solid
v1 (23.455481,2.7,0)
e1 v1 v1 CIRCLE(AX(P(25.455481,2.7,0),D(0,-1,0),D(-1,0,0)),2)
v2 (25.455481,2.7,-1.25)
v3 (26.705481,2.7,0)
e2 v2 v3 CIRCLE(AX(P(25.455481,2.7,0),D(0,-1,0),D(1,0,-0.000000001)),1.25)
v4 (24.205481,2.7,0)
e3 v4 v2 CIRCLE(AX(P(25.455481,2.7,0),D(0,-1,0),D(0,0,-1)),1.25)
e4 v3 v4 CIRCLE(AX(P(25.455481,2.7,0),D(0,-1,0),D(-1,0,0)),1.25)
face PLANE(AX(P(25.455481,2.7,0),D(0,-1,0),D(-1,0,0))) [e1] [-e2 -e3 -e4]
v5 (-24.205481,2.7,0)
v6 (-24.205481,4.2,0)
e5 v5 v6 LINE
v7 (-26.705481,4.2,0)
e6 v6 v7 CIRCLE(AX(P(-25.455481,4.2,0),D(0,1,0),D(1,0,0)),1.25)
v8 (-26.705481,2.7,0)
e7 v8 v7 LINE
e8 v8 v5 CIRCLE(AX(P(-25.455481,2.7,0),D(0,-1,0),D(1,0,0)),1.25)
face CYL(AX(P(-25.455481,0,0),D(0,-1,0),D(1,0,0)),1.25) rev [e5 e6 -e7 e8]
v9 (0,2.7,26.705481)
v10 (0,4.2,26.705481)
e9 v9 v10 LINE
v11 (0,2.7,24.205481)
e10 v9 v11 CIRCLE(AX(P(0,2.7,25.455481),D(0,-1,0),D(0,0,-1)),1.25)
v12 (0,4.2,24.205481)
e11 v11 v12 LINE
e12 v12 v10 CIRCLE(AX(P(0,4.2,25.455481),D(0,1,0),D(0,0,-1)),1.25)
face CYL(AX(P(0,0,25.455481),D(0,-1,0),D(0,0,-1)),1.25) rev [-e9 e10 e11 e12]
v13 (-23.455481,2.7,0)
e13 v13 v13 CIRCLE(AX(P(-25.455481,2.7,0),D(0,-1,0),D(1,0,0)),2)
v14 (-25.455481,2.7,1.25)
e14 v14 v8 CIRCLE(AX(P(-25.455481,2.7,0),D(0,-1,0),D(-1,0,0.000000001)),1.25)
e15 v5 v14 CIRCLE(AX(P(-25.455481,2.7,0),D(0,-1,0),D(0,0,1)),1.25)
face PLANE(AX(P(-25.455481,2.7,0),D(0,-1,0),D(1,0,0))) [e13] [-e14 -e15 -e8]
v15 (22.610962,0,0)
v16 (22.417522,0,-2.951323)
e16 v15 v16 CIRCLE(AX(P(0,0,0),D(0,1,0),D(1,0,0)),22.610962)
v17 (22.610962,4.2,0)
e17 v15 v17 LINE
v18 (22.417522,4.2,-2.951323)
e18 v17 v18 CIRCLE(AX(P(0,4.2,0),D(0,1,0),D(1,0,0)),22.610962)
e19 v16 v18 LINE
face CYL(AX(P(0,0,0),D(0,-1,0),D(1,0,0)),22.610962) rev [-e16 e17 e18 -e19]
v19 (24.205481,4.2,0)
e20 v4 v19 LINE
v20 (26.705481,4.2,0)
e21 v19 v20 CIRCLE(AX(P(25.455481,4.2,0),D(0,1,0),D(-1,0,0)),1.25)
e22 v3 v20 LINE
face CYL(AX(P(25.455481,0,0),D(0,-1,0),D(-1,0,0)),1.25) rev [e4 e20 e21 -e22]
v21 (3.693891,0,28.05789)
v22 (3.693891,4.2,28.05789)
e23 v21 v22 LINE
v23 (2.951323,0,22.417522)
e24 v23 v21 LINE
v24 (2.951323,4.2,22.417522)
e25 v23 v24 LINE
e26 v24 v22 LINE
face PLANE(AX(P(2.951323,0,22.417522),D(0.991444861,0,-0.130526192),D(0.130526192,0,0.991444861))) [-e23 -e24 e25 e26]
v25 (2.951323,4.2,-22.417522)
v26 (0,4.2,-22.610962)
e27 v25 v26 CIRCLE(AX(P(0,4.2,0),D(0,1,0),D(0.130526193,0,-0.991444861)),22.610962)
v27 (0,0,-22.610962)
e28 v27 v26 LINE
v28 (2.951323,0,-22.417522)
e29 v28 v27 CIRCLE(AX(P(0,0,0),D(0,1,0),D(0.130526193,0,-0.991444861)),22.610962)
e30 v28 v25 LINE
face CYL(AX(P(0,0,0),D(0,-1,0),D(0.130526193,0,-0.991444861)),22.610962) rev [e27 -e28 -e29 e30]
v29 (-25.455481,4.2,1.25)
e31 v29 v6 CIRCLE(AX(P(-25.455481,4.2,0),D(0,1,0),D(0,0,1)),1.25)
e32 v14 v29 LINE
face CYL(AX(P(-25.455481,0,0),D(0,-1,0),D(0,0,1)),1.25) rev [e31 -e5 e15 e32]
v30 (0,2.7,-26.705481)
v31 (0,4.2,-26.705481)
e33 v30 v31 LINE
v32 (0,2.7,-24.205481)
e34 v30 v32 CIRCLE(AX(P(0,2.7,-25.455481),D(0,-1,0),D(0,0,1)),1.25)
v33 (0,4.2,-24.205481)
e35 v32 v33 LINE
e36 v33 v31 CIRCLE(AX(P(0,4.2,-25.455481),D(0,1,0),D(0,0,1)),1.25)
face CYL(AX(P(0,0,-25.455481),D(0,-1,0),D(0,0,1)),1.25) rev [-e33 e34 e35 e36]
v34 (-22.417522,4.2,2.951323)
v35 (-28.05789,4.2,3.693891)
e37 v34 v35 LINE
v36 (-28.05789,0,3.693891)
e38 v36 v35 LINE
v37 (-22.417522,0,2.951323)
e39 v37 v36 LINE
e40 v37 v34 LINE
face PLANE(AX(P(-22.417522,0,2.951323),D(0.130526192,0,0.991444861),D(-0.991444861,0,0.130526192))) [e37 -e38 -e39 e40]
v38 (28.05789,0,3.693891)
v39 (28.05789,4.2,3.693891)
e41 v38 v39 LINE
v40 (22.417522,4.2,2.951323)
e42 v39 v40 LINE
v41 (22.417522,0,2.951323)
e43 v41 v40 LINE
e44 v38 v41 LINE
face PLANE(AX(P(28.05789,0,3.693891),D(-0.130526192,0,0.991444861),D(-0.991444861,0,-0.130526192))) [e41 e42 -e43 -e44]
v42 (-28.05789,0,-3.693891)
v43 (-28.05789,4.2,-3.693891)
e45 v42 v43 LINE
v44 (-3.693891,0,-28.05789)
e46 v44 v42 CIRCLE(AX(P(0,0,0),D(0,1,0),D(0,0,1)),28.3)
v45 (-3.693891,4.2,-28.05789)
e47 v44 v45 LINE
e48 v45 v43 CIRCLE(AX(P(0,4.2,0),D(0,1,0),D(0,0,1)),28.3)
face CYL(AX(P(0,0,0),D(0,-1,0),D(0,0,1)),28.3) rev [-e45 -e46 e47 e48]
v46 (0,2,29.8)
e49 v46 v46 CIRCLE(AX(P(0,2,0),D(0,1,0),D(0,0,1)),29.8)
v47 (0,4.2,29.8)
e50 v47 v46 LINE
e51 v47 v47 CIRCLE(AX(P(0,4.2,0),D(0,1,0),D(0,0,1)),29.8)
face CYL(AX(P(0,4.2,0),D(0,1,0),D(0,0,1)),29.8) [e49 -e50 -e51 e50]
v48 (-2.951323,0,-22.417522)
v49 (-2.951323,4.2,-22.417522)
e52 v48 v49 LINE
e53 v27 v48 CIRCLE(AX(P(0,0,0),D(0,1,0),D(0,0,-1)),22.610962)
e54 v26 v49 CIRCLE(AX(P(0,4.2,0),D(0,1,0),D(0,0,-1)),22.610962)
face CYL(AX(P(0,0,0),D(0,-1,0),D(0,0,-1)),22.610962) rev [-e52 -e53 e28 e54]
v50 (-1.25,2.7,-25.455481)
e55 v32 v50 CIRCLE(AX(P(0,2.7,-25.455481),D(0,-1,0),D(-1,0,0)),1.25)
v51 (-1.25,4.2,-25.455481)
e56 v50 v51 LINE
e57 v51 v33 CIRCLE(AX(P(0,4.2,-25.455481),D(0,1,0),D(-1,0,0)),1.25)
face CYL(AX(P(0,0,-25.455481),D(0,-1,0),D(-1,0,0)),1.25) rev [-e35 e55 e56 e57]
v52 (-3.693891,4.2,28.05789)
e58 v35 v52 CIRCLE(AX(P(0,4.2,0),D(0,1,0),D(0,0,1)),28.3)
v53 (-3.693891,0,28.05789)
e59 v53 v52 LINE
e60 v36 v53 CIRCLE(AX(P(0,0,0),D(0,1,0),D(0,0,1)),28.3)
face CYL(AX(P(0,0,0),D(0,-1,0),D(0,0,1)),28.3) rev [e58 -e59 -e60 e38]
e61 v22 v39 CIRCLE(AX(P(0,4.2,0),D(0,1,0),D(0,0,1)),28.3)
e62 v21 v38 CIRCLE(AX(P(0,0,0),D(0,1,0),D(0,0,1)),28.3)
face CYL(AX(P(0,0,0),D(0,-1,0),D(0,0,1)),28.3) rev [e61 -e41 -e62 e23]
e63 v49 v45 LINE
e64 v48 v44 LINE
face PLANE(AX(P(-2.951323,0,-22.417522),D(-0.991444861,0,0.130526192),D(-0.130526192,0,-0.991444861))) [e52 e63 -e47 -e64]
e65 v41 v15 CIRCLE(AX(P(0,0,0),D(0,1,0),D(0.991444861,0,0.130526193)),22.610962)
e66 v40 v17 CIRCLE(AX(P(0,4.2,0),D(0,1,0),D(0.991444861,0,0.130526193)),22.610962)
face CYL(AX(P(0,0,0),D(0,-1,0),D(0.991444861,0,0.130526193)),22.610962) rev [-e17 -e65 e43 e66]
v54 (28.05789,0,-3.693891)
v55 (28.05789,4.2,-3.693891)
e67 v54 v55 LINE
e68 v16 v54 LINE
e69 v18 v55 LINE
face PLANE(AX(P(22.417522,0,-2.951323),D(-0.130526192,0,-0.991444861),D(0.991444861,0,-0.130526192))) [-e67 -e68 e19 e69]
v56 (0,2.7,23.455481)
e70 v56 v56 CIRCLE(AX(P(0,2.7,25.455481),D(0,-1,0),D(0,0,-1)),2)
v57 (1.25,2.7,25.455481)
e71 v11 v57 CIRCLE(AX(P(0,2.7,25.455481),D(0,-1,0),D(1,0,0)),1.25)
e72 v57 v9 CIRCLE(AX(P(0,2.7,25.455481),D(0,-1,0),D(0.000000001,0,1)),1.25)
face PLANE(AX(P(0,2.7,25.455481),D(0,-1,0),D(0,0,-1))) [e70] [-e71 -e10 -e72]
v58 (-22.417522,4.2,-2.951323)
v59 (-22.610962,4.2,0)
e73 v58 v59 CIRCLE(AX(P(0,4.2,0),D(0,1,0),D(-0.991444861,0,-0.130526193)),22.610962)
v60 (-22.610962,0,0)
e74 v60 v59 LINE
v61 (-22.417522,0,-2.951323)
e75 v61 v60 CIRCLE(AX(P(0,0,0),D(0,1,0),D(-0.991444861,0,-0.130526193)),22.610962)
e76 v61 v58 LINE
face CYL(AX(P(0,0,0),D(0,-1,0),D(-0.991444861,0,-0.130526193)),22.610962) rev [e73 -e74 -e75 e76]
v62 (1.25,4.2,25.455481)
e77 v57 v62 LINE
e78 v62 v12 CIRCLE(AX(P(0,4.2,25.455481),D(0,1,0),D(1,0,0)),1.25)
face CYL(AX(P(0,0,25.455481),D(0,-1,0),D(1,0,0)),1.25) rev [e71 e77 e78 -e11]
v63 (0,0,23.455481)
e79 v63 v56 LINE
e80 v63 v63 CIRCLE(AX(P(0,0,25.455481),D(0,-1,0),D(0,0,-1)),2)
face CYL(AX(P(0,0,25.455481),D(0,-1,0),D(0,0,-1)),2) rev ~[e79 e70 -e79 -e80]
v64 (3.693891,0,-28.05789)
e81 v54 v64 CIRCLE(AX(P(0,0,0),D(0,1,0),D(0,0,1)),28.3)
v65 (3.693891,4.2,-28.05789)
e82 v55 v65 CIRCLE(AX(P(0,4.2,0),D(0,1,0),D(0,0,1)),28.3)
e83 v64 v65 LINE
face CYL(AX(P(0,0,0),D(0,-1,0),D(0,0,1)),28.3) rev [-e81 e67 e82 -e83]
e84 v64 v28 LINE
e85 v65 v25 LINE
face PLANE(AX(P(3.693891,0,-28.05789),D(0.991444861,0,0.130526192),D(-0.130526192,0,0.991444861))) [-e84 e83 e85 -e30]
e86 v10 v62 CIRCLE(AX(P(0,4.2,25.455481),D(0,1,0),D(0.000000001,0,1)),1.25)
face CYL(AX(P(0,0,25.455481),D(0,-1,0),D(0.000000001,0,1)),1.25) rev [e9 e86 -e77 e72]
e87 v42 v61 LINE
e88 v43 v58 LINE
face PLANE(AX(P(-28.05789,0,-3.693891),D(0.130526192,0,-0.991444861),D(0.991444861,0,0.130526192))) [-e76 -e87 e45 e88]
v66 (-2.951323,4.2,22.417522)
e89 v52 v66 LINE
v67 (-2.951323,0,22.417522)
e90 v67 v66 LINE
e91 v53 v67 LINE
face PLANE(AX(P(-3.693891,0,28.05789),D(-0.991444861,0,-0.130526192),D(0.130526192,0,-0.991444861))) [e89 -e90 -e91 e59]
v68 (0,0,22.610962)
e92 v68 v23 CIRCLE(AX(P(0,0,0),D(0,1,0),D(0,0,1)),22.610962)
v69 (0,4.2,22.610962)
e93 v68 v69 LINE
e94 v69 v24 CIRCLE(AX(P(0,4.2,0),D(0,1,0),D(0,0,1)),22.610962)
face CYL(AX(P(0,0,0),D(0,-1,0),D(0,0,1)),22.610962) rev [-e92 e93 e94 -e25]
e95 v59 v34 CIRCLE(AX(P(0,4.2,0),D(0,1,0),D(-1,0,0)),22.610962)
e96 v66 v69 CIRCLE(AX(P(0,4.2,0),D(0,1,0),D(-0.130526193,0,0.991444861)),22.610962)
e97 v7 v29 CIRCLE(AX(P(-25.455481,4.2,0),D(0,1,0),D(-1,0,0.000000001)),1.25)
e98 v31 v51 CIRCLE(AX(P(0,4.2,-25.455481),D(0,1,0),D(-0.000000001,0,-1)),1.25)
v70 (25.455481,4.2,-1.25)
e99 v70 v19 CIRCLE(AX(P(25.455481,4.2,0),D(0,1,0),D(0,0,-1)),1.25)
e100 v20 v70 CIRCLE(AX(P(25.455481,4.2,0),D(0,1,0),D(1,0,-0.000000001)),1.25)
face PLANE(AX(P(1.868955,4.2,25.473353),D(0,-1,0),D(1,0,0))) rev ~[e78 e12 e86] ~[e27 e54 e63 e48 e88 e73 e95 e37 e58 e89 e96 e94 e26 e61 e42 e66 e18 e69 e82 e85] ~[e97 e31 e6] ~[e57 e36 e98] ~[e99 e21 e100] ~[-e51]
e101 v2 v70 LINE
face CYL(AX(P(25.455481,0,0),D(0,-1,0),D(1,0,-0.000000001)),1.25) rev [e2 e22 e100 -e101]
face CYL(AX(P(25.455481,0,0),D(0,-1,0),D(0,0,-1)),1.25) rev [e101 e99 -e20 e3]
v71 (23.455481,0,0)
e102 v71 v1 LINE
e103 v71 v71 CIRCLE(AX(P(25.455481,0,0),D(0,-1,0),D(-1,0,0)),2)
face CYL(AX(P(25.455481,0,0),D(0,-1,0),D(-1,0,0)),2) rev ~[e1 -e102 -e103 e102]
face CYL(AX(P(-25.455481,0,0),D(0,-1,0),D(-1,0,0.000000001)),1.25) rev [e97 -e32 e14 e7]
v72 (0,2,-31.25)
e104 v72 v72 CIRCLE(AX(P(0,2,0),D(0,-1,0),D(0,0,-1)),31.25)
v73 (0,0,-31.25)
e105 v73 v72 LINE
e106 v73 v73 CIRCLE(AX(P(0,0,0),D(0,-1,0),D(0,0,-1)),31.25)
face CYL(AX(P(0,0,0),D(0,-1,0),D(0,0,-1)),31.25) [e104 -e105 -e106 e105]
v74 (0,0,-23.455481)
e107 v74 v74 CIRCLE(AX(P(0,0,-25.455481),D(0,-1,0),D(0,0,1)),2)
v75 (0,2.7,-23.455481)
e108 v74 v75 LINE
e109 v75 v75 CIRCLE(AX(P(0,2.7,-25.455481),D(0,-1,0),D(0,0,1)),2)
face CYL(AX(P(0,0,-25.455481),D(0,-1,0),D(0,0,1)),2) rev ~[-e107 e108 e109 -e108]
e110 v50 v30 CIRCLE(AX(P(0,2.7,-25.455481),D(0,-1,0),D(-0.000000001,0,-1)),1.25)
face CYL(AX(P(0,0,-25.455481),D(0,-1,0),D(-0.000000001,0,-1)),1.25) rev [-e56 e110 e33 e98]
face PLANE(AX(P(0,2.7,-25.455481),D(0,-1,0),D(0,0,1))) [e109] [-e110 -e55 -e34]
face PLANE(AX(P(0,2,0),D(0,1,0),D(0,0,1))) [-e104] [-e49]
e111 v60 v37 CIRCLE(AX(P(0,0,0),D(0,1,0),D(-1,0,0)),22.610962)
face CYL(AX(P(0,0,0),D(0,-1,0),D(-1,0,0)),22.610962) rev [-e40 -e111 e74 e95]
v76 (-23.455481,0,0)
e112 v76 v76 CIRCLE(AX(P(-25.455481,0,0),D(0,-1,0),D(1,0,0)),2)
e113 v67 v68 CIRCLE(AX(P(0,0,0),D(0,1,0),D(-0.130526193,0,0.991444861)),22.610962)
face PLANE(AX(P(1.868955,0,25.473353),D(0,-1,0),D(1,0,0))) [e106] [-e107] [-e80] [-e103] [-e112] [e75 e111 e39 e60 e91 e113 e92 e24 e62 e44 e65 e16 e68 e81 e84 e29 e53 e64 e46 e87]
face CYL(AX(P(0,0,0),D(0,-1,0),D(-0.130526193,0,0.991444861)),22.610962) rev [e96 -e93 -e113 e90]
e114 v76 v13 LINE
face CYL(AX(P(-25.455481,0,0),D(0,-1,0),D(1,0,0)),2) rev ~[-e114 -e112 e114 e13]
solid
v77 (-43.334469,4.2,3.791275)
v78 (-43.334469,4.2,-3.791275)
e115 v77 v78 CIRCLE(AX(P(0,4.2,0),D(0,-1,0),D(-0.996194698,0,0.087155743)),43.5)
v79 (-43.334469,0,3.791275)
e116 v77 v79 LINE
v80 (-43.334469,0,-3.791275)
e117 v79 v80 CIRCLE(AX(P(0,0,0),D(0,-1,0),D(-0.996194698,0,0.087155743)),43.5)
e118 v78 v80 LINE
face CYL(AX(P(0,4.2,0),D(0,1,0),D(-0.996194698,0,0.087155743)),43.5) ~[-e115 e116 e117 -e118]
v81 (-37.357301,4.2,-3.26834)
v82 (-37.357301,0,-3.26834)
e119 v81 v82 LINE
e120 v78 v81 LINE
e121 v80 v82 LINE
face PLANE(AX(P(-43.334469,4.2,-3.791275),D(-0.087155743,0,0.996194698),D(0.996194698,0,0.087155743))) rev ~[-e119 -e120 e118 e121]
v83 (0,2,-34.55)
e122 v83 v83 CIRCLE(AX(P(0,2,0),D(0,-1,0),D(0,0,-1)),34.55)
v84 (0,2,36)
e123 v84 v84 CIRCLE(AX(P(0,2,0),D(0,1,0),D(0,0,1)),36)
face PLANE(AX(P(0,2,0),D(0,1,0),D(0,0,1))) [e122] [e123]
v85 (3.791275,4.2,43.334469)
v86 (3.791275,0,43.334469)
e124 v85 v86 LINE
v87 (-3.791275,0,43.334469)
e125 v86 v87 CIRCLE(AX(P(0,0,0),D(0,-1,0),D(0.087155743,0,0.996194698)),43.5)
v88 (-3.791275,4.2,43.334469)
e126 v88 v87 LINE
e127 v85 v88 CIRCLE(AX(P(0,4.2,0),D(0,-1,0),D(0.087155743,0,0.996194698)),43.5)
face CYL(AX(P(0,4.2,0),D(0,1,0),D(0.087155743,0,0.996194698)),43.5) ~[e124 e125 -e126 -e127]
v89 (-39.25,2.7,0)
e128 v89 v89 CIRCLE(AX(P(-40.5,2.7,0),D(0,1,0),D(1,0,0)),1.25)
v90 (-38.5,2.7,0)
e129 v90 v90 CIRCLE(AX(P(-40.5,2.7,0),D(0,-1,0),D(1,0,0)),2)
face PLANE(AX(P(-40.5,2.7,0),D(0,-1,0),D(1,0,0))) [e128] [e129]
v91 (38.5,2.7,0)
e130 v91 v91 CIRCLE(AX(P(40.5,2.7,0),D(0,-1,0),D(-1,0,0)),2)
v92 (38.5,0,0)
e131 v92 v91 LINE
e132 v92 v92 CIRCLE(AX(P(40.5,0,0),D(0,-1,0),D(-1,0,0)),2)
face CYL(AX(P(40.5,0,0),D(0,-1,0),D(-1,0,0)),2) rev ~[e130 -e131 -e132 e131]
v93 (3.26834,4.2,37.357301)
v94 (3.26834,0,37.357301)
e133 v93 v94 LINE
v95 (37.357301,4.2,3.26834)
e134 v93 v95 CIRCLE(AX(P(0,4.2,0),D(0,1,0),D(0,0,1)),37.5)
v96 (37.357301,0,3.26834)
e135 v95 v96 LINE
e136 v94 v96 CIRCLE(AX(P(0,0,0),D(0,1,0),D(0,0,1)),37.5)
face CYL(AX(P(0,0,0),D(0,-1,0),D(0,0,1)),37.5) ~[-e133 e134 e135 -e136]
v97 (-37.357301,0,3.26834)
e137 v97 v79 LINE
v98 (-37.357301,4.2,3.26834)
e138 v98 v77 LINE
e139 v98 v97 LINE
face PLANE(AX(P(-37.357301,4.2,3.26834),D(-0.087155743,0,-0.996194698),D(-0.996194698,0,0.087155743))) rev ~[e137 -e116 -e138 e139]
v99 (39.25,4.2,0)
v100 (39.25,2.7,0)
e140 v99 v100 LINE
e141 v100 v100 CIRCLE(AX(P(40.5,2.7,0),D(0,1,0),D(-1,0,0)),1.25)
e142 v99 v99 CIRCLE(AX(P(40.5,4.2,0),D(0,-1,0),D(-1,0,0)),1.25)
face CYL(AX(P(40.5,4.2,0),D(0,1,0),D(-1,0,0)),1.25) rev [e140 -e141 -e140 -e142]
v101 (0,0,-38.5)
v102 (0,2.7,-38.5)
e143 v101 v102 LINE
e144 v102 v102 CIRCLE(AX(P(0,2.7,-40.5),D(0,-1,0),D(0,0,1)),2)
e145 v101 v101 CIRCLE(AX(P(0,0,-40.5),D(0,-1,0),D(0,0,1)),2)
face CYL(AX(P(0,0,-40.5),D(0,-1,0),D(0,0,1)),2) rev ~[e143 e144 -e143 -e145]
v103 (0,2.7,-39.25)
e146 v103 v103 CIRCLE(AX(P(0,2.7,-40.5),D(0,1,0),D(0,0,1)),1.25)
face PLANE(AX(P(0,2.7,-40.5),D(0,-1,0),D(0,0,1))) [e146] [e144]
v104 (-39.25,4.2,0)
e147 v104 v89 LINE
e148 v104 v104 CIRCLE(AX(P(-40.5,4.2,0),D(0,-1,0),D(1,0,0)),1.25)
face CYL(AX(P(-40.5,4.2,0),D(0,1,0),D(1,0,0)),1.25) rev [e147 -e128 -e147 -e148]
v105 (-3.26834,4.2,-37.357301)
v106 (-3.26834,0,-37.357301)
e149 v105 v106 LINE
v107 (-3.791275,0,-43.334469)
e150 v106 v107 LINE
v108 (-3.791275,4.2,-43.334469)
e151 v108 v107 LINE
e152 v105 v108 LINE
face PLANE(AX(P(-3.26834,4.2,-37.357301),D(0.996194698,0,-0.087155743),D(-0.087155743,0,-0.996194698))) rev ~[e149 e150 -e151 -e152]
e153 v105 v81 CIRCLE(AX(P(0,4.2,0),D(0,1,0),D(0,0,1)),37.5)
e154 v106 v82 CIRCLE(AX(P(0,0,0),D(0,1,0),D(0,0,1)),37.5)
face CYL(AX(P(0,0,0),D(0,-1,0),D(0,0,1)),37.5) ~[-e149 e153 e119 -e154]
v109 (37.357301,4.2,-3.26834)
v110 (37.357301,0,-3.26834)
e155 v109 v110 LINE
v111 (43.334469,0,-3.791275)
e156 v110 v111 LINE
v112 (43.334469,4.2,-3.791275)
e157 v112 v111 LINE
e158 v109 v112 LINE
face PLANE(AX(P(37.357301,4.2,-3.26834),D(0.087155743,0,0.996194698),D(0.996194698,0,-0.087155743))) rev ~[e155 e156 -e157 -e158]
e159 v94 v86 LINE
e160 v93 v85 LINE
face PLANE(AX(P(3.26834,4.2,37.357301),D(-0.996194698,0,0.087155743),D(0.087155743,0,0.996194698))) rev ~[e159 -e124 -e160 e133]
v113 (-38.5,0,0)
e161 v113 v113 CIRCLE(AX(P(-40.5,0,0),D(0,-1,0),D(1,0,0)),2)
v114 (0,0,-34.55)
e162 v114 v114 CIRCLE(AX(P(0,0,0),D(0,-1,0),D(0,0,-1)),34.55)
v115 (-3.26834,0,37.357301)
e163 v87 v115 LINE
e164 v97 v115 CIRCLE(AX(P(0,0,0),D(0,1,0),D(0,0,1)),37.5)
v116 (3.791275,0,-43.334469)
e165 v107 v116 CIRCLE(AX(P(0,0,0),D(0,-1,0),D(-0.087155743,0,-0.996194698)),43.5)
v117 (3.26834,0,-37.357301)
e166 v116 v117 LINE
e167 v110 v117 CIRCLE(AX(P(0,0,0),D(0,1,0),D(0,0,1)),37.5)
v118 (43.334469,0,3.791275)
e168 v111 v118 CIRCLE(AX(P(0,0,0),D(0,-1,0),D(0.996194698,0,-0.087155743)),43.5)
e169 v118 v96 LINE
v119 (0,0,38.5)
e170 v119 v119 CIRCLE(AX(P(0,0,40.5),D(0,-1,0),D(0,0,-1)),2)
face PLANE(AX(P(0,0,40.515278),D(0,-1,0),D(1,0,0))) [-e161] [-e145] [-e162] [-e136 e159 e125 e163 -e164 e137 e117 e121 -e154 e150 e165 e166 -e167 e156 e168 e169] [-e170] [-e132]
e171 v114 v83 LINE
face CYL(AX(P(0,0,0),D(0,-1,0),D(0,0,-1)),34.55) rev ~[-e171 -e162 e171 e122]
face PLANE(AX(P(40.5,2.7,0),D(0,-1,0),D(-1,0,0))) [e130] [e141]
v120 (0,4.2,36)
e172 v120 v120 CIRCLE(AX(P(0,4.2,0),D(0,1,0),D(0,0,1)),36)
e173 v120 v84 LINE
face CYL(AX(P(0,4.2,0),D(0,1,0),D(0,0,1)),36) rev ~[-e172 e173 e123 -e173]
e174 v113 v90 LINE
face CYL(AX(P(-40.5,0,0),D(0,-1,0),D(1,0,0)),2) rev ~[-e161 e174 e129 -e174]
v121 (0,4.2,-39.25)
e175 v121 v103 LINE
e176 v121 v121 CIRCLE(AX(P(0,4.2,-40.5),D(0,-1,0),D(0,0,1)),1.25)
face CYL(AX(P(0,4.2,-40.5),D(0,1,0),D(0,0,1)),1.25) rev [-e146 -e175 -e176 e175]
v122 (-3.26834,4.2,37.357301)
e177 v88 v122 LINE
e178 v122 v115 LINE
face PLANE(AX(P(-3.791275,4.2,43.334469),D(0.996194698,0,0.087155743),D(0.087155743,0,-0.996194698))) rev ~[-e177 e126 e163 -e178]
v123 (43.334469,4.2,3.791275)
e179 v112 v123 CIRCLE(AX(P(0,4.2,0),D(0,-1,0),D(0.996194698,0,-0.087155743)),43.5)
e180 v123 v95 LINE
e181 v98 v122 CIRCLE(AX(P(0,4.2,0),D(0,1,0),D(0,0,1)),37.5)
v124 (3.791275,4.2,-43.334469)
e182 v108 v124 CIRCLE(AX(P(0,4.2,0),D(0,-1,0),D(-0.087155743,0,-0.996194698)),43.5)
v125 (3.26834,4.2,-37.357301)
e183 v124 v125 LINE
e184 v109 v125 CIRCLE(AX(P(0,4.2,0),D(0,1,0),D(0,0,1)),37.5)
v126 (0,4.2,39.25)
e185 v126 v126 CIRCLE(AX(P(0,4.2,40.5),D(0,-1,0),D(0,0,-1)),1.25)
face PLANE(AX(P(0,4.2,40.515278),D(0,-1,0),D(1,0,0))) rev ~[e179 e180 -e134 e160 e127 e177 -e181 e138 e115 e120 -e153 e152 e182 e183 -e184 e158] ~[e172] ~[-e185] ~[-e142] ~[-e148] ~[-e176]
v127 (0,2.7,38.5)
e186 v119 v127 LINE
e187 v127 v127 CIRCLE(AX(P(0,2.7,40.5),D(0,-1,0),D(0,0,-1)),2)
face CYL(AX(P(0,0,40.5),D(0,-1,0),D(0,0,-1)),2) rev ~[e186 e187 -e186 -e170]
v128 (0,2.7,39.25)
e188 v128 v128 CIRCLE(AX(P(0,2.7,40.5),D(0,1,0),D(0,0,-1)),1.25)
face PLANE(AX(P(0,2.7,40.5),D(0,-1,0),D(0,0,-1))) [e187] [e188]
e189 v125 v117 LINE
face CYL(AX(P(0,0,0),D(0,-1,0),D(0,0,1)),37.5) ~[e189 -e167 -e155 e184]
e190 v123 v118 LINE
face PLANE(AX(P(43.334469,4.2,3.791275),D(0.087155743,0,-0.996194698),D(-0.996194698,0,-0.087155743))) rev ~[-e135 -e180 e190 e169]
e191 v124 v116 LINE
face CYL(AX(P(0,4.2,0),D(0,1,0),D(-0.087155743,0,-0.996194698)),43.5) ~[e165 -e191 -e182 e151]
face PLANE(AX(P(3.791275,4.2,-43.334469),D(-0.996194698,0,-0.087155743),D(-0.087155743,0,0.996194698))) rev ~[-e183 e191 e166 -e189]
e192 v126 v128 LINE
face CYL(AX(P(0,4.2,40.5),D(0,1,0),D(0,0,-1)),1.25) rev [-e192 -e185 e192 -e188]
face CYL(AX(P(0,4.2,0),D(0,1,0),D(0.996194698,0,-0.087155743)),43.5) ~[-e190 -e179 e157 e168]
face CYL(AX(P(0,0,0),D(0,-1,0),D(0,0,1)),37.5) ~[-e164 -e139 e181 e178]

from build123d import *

# Parameters (mm, degrees)
SKETCH_1_R               = 37.5
SKETCH_1_R_2             = 34.5
EXTRUDE_3_DEPTH          = 4.2
SKETCH_1_R_3             = 31.3
SKETCH_1_R_4             = 28.3
EXTRUDE_3_2_DEPTH        = 4.2
SKETCH_3_R               = 36
SKETCH_3_R_2             = 29.8
CUT_EXTRUDE_1_DEPTH      = 2.2
EXTRUDE_START            = -4.2
SKETCH_4_R               = 1.25
EXTRUDE_4_DEPTH          = 4.2
SKETCH_4_3_R             = 2
CUT_EXTRUDE_2_DEPTH      = 2.7
PATTERN_CIRCULAR_2_COUNT = 4
EXTRUDE_5_DEPTH          = 4.2
SKETCH_5_3_R             = 2
CUT_EXTRUDE_3_DEPTH      = 2.7
PATTERN_CIRCULAR_3_COUNT = 4
SKETCH_6_R               = 34.55
SKETCH_6_R_2             = 31.25
CUT_EXTRUDE_4_DEPTH      = 62.661495279


with BuildPart() as part:
    # 草图1 → 凸台-拉伸3 (new body)
    with BuildSketch(Plane(origin=(0, 0, 0), x_dir=(1, 0, 0), z_dir=(0, 1, 0))):
        with Locations(Location((0, 0, 0), (0, 0, 270))):
            Circle(SKETCH_1_R)
        with Locations(Location((0, 0, 0), (0, 0, 270))):
            Circle(SKETCH_1_R_2, mode=Mode.SUBTRACT)
    extrude(amount=EXTRUDE_3_DEPTH)


with BuildPart() as body_2:
    # 草图1 → Extrude 3 2 (new body)
    with BuildSketch(Plane(origin=(0, 0, 0), x_dir=(1, 0, 0), z_dir=(0, 1, 0))):
        with Locations(Location((0, 0, 0), (0, 0, 270))):
            Circle(SKETCH_1_R_3)
        with Locations(Location((0, 0, 0), (0, 0, 270))):
            Circle(SKETCH_1_R_4, mode=Mode.SUBTRACT)
    extrude(amount=EXTRUDE_3_2_DEPTH)


with BuildPart() as cut_extrude_1_tool:
    # 草图3 → 切除-拉伸1 (new body)
    with BuildSketch(Plane(origin=(0, 4.2, 0), x_dir=(1, 0, 0), z_dir=(0, 1, 0))):
        with Locations(Location((0, 0, 0), (0, 0, 270))):
            Circle(SKETCH_3_R)
        with Locations(Location((0, 0, 0), (0, 0, 270))):
            Circle(SKETCH_3_R_2, mode=Mode.SUBTRACT)
    extrude(amount=-CUT_EXTRUDE_1_DEPTH)


with BuildPart() as part_1:
    add(part.part)

    # 切除-拉伸1: cut by cut_extrude_1_tool
    add(cut_extrude_1_tool.part, mode=Mode.SUBTRACT)

    # 草图4 → 凸台-拉伸4 (add)
    with BuildSketch(Plane.XZ.offset(EXTRUDE_START)):
        with BuildLine():
            Line((-3.79127481, 43.334469367), (-3.268340353, 37.357301178))
            ThreePointArc((-3.268340353, 37.357301178), (0, 37.5), (3.268340353, 37.357301178))
            Line((3.268340353, 37.357301178), (3.79127481, 43.334469367))
            ThreePointArc((3.79127481, 43.334469367), (0, 43.5), (-3.79127481, 43.334469367))
        make_face()
        with Locations(Location((0, 40.5, 0), (0, 0, 270))):
            Circle(SKETCH_4_R, mode=Mode.SUBTRACT)
    extrude_4 = extrude(amount=EXTRUDE_4_DEPTH)

    # 草图4<3> → 切除-拉伸2 (cut)
    with BuildSketch(Plane.XZ):
        with Locations(Location((0, 40.5, 0), (0, 0, 270))):
            Circle(SKETCH_4_3_R)
    cut_extrude_2 = extrude(amount=-CUT_EXTRUDE_2_DEPTH, mode=Mode.SUBTRACT)

    # 阵列(圆周)2: 凸台-拉伸4, 切除-拉伸2 ×4 about axis
    pattern_circular_2_axis = Axis((0, 0, 0), (0, 1, 0))
    add([extrude_4.rotate(pattern_circular_2_axis, i * 360 / PATTERN_CIRCULAR_2_COUNT) for i in range(1, PATTERN_CIRCULAR_2_COUNT)])
    add([cut_extrude_2.rotate(pattern_circular_2_axis, i * 360 / PATTERN_CIRCULAR_2_COUNT) for i in range(1, PATTERN_CIRCULAR_2_COUNT)], mode=Mode.SUBTRACT)


with BuildPart() as body_2_1:
    add(body_2.part)

    # 切除-拉伸1: cut by cut_extrude_1_tool
    add(cut_extrude_1_tool.part, mode=Mode.SUBTRACT)

    # 草图5 → 凸台-拉伸5 (add)
    with BuildSketch(Plane.XZ):
        with BuildLine():
            ThreePointArc((3.69389124, 28.057889577), (1.850908557, 28.239407528), (0, 28.3))
            Line((0, 28.3), (0, 27.455481199))
            ThreePointArc((0, 27.455481199), (1.414213562, 26.869694761), (2, 25.455481199))
            ThreePointArc((2, 25.455481199), (1.414213562, 24.041267636), (0, 23.455481199))
            Line((0, 23.455481199), (0, 22.610962398))
            ThreePointArc((0, 22.610962398), (1.478827696, 22.562550592), (2.951322824, 22.41752248))
            Line((2.951322824, 22.41752248), (3.69389124, 28.057889577))
        make_face()
        with BuildLine():
            Line((0, 27.455481199), (0, 28.3))
            ThreePointArc((0, 28.3), (-1.850908557, 28.239407528), (-3.69389124, 28.057889577))
            Line((-3.69389124, 28.057889577), (-2.951322824, 22.41752248))
            ThreePointArc((-2.951322824, 22.41752248), (-1.478827696, 22.562550592), (0, 22.610962398))
            Line((0, 22.610962398), (0, 23.455481199))
            ThreePointArc((0, 23.455481199), (-2, 25.455481199), (0, 27.455481199))
        make_face()
        with BuildLine():
            ThreePointArc((2, 25.455481199), (1.414213562, 26.869694761), (0, 27.455481199))
            Line((0, 27.455481199), (0, 26.705481199))
            ThreePointArc((0, 26.705481199), (0.883883476, 26.339364675), (1.25, 25.455481199))
            ThreePointArc((1.25, 25.455481199), (0.883883476, 24.571597722), (0, 24.205481199))
            Line((0, 24.205481199), (0, 23.455481199))
            ThreePointArc((0, 23.455481199), (1.414213562, 24.041267636), (2, 25.455481199))
        make_face()
        with BuildLine():
            Line((0, 26.705481199), (0, 27.455481199))
            ThreePointArc((0, 27.455481199), (-2, 25.455481199), (0, 23.455481199))
            Line((0, 23.455481199), (0, 24.205481199))
            ThreePointArc((0, 24.205481199), (-1.25, 25.455481199), (0, 26.705481199))
        make_face()
    extrude_5 = extrude(amount=-EXTRUDE_5_DEPTH)

    # 草图5<3> → 切除-拉伸3 (cut)
    with BuildSketch(Plane.XZ):
        with Locations(Location((0, 25.455481199, 0), (0, 0, 270))):
            Circle(SKETCH_5_3_R)
    cut_extrude_3 = extrude(amount=-CUT_EXTRUDE_3_DEPTH, mode=Mode.SUBTRACT)

    # 阵列(圆周)3: 凸台-拉伸5, 切除-拉伸3 ×4 about axis
    pattern_circular_3_axis = Axis((0, 0, 0), (0, 1, 0))
    add([extrude_5.rotate(pattern_circular_3_axis, i * 360 / PATTERN_CIRCULAR_3_COUNT) for i in range(1, PATTERN_CIRCULAR_3_COUNT)])
    add([cut_extrude_3.rotate(pattern_circular_3_axis, i * 360 / PATTERN_CIRCULAR_3_COUNT) for i in range(1, PATTERN_CIRCULAR_3_COUNT)], mode=Mode.SUBTRACT)


with BuildPart() as cut_extrude_4_tool:
    # 草图6 → 切除-拉伸4 (new, through all)
    with BuildSketch(Plane.XZ):
        with Locations(Location((0, 0, 0), (0, 0, 270))):
            Circle(SKETCH_6_R)
        with Locations(Location((0, 0, 0), (0, 0, 270))):
            Circle(SKETCH_6_R_2, mode=Mode.SUBTRACT)
    extrude(amount=-CUT_EXTRUDE_4_DEPTH)


with BuildPart() as part_2:
    add(part_1.part)

    # 切除-拉伸4: cut by cut_extrude_4_tool
    add(cut_extrude_4_tool.part, mode=Mode.SUBTRACT)


with BuildPart() as body_2_2:
    add(body_2_1.part)

    # 切除-拉伸4: cut by cut_extrude_4_tool
    add(cut_extrude_4_tool.part, mode=Mode.SUBTRACT)


solid = Compound([part_2.part, body_2_2.part])
